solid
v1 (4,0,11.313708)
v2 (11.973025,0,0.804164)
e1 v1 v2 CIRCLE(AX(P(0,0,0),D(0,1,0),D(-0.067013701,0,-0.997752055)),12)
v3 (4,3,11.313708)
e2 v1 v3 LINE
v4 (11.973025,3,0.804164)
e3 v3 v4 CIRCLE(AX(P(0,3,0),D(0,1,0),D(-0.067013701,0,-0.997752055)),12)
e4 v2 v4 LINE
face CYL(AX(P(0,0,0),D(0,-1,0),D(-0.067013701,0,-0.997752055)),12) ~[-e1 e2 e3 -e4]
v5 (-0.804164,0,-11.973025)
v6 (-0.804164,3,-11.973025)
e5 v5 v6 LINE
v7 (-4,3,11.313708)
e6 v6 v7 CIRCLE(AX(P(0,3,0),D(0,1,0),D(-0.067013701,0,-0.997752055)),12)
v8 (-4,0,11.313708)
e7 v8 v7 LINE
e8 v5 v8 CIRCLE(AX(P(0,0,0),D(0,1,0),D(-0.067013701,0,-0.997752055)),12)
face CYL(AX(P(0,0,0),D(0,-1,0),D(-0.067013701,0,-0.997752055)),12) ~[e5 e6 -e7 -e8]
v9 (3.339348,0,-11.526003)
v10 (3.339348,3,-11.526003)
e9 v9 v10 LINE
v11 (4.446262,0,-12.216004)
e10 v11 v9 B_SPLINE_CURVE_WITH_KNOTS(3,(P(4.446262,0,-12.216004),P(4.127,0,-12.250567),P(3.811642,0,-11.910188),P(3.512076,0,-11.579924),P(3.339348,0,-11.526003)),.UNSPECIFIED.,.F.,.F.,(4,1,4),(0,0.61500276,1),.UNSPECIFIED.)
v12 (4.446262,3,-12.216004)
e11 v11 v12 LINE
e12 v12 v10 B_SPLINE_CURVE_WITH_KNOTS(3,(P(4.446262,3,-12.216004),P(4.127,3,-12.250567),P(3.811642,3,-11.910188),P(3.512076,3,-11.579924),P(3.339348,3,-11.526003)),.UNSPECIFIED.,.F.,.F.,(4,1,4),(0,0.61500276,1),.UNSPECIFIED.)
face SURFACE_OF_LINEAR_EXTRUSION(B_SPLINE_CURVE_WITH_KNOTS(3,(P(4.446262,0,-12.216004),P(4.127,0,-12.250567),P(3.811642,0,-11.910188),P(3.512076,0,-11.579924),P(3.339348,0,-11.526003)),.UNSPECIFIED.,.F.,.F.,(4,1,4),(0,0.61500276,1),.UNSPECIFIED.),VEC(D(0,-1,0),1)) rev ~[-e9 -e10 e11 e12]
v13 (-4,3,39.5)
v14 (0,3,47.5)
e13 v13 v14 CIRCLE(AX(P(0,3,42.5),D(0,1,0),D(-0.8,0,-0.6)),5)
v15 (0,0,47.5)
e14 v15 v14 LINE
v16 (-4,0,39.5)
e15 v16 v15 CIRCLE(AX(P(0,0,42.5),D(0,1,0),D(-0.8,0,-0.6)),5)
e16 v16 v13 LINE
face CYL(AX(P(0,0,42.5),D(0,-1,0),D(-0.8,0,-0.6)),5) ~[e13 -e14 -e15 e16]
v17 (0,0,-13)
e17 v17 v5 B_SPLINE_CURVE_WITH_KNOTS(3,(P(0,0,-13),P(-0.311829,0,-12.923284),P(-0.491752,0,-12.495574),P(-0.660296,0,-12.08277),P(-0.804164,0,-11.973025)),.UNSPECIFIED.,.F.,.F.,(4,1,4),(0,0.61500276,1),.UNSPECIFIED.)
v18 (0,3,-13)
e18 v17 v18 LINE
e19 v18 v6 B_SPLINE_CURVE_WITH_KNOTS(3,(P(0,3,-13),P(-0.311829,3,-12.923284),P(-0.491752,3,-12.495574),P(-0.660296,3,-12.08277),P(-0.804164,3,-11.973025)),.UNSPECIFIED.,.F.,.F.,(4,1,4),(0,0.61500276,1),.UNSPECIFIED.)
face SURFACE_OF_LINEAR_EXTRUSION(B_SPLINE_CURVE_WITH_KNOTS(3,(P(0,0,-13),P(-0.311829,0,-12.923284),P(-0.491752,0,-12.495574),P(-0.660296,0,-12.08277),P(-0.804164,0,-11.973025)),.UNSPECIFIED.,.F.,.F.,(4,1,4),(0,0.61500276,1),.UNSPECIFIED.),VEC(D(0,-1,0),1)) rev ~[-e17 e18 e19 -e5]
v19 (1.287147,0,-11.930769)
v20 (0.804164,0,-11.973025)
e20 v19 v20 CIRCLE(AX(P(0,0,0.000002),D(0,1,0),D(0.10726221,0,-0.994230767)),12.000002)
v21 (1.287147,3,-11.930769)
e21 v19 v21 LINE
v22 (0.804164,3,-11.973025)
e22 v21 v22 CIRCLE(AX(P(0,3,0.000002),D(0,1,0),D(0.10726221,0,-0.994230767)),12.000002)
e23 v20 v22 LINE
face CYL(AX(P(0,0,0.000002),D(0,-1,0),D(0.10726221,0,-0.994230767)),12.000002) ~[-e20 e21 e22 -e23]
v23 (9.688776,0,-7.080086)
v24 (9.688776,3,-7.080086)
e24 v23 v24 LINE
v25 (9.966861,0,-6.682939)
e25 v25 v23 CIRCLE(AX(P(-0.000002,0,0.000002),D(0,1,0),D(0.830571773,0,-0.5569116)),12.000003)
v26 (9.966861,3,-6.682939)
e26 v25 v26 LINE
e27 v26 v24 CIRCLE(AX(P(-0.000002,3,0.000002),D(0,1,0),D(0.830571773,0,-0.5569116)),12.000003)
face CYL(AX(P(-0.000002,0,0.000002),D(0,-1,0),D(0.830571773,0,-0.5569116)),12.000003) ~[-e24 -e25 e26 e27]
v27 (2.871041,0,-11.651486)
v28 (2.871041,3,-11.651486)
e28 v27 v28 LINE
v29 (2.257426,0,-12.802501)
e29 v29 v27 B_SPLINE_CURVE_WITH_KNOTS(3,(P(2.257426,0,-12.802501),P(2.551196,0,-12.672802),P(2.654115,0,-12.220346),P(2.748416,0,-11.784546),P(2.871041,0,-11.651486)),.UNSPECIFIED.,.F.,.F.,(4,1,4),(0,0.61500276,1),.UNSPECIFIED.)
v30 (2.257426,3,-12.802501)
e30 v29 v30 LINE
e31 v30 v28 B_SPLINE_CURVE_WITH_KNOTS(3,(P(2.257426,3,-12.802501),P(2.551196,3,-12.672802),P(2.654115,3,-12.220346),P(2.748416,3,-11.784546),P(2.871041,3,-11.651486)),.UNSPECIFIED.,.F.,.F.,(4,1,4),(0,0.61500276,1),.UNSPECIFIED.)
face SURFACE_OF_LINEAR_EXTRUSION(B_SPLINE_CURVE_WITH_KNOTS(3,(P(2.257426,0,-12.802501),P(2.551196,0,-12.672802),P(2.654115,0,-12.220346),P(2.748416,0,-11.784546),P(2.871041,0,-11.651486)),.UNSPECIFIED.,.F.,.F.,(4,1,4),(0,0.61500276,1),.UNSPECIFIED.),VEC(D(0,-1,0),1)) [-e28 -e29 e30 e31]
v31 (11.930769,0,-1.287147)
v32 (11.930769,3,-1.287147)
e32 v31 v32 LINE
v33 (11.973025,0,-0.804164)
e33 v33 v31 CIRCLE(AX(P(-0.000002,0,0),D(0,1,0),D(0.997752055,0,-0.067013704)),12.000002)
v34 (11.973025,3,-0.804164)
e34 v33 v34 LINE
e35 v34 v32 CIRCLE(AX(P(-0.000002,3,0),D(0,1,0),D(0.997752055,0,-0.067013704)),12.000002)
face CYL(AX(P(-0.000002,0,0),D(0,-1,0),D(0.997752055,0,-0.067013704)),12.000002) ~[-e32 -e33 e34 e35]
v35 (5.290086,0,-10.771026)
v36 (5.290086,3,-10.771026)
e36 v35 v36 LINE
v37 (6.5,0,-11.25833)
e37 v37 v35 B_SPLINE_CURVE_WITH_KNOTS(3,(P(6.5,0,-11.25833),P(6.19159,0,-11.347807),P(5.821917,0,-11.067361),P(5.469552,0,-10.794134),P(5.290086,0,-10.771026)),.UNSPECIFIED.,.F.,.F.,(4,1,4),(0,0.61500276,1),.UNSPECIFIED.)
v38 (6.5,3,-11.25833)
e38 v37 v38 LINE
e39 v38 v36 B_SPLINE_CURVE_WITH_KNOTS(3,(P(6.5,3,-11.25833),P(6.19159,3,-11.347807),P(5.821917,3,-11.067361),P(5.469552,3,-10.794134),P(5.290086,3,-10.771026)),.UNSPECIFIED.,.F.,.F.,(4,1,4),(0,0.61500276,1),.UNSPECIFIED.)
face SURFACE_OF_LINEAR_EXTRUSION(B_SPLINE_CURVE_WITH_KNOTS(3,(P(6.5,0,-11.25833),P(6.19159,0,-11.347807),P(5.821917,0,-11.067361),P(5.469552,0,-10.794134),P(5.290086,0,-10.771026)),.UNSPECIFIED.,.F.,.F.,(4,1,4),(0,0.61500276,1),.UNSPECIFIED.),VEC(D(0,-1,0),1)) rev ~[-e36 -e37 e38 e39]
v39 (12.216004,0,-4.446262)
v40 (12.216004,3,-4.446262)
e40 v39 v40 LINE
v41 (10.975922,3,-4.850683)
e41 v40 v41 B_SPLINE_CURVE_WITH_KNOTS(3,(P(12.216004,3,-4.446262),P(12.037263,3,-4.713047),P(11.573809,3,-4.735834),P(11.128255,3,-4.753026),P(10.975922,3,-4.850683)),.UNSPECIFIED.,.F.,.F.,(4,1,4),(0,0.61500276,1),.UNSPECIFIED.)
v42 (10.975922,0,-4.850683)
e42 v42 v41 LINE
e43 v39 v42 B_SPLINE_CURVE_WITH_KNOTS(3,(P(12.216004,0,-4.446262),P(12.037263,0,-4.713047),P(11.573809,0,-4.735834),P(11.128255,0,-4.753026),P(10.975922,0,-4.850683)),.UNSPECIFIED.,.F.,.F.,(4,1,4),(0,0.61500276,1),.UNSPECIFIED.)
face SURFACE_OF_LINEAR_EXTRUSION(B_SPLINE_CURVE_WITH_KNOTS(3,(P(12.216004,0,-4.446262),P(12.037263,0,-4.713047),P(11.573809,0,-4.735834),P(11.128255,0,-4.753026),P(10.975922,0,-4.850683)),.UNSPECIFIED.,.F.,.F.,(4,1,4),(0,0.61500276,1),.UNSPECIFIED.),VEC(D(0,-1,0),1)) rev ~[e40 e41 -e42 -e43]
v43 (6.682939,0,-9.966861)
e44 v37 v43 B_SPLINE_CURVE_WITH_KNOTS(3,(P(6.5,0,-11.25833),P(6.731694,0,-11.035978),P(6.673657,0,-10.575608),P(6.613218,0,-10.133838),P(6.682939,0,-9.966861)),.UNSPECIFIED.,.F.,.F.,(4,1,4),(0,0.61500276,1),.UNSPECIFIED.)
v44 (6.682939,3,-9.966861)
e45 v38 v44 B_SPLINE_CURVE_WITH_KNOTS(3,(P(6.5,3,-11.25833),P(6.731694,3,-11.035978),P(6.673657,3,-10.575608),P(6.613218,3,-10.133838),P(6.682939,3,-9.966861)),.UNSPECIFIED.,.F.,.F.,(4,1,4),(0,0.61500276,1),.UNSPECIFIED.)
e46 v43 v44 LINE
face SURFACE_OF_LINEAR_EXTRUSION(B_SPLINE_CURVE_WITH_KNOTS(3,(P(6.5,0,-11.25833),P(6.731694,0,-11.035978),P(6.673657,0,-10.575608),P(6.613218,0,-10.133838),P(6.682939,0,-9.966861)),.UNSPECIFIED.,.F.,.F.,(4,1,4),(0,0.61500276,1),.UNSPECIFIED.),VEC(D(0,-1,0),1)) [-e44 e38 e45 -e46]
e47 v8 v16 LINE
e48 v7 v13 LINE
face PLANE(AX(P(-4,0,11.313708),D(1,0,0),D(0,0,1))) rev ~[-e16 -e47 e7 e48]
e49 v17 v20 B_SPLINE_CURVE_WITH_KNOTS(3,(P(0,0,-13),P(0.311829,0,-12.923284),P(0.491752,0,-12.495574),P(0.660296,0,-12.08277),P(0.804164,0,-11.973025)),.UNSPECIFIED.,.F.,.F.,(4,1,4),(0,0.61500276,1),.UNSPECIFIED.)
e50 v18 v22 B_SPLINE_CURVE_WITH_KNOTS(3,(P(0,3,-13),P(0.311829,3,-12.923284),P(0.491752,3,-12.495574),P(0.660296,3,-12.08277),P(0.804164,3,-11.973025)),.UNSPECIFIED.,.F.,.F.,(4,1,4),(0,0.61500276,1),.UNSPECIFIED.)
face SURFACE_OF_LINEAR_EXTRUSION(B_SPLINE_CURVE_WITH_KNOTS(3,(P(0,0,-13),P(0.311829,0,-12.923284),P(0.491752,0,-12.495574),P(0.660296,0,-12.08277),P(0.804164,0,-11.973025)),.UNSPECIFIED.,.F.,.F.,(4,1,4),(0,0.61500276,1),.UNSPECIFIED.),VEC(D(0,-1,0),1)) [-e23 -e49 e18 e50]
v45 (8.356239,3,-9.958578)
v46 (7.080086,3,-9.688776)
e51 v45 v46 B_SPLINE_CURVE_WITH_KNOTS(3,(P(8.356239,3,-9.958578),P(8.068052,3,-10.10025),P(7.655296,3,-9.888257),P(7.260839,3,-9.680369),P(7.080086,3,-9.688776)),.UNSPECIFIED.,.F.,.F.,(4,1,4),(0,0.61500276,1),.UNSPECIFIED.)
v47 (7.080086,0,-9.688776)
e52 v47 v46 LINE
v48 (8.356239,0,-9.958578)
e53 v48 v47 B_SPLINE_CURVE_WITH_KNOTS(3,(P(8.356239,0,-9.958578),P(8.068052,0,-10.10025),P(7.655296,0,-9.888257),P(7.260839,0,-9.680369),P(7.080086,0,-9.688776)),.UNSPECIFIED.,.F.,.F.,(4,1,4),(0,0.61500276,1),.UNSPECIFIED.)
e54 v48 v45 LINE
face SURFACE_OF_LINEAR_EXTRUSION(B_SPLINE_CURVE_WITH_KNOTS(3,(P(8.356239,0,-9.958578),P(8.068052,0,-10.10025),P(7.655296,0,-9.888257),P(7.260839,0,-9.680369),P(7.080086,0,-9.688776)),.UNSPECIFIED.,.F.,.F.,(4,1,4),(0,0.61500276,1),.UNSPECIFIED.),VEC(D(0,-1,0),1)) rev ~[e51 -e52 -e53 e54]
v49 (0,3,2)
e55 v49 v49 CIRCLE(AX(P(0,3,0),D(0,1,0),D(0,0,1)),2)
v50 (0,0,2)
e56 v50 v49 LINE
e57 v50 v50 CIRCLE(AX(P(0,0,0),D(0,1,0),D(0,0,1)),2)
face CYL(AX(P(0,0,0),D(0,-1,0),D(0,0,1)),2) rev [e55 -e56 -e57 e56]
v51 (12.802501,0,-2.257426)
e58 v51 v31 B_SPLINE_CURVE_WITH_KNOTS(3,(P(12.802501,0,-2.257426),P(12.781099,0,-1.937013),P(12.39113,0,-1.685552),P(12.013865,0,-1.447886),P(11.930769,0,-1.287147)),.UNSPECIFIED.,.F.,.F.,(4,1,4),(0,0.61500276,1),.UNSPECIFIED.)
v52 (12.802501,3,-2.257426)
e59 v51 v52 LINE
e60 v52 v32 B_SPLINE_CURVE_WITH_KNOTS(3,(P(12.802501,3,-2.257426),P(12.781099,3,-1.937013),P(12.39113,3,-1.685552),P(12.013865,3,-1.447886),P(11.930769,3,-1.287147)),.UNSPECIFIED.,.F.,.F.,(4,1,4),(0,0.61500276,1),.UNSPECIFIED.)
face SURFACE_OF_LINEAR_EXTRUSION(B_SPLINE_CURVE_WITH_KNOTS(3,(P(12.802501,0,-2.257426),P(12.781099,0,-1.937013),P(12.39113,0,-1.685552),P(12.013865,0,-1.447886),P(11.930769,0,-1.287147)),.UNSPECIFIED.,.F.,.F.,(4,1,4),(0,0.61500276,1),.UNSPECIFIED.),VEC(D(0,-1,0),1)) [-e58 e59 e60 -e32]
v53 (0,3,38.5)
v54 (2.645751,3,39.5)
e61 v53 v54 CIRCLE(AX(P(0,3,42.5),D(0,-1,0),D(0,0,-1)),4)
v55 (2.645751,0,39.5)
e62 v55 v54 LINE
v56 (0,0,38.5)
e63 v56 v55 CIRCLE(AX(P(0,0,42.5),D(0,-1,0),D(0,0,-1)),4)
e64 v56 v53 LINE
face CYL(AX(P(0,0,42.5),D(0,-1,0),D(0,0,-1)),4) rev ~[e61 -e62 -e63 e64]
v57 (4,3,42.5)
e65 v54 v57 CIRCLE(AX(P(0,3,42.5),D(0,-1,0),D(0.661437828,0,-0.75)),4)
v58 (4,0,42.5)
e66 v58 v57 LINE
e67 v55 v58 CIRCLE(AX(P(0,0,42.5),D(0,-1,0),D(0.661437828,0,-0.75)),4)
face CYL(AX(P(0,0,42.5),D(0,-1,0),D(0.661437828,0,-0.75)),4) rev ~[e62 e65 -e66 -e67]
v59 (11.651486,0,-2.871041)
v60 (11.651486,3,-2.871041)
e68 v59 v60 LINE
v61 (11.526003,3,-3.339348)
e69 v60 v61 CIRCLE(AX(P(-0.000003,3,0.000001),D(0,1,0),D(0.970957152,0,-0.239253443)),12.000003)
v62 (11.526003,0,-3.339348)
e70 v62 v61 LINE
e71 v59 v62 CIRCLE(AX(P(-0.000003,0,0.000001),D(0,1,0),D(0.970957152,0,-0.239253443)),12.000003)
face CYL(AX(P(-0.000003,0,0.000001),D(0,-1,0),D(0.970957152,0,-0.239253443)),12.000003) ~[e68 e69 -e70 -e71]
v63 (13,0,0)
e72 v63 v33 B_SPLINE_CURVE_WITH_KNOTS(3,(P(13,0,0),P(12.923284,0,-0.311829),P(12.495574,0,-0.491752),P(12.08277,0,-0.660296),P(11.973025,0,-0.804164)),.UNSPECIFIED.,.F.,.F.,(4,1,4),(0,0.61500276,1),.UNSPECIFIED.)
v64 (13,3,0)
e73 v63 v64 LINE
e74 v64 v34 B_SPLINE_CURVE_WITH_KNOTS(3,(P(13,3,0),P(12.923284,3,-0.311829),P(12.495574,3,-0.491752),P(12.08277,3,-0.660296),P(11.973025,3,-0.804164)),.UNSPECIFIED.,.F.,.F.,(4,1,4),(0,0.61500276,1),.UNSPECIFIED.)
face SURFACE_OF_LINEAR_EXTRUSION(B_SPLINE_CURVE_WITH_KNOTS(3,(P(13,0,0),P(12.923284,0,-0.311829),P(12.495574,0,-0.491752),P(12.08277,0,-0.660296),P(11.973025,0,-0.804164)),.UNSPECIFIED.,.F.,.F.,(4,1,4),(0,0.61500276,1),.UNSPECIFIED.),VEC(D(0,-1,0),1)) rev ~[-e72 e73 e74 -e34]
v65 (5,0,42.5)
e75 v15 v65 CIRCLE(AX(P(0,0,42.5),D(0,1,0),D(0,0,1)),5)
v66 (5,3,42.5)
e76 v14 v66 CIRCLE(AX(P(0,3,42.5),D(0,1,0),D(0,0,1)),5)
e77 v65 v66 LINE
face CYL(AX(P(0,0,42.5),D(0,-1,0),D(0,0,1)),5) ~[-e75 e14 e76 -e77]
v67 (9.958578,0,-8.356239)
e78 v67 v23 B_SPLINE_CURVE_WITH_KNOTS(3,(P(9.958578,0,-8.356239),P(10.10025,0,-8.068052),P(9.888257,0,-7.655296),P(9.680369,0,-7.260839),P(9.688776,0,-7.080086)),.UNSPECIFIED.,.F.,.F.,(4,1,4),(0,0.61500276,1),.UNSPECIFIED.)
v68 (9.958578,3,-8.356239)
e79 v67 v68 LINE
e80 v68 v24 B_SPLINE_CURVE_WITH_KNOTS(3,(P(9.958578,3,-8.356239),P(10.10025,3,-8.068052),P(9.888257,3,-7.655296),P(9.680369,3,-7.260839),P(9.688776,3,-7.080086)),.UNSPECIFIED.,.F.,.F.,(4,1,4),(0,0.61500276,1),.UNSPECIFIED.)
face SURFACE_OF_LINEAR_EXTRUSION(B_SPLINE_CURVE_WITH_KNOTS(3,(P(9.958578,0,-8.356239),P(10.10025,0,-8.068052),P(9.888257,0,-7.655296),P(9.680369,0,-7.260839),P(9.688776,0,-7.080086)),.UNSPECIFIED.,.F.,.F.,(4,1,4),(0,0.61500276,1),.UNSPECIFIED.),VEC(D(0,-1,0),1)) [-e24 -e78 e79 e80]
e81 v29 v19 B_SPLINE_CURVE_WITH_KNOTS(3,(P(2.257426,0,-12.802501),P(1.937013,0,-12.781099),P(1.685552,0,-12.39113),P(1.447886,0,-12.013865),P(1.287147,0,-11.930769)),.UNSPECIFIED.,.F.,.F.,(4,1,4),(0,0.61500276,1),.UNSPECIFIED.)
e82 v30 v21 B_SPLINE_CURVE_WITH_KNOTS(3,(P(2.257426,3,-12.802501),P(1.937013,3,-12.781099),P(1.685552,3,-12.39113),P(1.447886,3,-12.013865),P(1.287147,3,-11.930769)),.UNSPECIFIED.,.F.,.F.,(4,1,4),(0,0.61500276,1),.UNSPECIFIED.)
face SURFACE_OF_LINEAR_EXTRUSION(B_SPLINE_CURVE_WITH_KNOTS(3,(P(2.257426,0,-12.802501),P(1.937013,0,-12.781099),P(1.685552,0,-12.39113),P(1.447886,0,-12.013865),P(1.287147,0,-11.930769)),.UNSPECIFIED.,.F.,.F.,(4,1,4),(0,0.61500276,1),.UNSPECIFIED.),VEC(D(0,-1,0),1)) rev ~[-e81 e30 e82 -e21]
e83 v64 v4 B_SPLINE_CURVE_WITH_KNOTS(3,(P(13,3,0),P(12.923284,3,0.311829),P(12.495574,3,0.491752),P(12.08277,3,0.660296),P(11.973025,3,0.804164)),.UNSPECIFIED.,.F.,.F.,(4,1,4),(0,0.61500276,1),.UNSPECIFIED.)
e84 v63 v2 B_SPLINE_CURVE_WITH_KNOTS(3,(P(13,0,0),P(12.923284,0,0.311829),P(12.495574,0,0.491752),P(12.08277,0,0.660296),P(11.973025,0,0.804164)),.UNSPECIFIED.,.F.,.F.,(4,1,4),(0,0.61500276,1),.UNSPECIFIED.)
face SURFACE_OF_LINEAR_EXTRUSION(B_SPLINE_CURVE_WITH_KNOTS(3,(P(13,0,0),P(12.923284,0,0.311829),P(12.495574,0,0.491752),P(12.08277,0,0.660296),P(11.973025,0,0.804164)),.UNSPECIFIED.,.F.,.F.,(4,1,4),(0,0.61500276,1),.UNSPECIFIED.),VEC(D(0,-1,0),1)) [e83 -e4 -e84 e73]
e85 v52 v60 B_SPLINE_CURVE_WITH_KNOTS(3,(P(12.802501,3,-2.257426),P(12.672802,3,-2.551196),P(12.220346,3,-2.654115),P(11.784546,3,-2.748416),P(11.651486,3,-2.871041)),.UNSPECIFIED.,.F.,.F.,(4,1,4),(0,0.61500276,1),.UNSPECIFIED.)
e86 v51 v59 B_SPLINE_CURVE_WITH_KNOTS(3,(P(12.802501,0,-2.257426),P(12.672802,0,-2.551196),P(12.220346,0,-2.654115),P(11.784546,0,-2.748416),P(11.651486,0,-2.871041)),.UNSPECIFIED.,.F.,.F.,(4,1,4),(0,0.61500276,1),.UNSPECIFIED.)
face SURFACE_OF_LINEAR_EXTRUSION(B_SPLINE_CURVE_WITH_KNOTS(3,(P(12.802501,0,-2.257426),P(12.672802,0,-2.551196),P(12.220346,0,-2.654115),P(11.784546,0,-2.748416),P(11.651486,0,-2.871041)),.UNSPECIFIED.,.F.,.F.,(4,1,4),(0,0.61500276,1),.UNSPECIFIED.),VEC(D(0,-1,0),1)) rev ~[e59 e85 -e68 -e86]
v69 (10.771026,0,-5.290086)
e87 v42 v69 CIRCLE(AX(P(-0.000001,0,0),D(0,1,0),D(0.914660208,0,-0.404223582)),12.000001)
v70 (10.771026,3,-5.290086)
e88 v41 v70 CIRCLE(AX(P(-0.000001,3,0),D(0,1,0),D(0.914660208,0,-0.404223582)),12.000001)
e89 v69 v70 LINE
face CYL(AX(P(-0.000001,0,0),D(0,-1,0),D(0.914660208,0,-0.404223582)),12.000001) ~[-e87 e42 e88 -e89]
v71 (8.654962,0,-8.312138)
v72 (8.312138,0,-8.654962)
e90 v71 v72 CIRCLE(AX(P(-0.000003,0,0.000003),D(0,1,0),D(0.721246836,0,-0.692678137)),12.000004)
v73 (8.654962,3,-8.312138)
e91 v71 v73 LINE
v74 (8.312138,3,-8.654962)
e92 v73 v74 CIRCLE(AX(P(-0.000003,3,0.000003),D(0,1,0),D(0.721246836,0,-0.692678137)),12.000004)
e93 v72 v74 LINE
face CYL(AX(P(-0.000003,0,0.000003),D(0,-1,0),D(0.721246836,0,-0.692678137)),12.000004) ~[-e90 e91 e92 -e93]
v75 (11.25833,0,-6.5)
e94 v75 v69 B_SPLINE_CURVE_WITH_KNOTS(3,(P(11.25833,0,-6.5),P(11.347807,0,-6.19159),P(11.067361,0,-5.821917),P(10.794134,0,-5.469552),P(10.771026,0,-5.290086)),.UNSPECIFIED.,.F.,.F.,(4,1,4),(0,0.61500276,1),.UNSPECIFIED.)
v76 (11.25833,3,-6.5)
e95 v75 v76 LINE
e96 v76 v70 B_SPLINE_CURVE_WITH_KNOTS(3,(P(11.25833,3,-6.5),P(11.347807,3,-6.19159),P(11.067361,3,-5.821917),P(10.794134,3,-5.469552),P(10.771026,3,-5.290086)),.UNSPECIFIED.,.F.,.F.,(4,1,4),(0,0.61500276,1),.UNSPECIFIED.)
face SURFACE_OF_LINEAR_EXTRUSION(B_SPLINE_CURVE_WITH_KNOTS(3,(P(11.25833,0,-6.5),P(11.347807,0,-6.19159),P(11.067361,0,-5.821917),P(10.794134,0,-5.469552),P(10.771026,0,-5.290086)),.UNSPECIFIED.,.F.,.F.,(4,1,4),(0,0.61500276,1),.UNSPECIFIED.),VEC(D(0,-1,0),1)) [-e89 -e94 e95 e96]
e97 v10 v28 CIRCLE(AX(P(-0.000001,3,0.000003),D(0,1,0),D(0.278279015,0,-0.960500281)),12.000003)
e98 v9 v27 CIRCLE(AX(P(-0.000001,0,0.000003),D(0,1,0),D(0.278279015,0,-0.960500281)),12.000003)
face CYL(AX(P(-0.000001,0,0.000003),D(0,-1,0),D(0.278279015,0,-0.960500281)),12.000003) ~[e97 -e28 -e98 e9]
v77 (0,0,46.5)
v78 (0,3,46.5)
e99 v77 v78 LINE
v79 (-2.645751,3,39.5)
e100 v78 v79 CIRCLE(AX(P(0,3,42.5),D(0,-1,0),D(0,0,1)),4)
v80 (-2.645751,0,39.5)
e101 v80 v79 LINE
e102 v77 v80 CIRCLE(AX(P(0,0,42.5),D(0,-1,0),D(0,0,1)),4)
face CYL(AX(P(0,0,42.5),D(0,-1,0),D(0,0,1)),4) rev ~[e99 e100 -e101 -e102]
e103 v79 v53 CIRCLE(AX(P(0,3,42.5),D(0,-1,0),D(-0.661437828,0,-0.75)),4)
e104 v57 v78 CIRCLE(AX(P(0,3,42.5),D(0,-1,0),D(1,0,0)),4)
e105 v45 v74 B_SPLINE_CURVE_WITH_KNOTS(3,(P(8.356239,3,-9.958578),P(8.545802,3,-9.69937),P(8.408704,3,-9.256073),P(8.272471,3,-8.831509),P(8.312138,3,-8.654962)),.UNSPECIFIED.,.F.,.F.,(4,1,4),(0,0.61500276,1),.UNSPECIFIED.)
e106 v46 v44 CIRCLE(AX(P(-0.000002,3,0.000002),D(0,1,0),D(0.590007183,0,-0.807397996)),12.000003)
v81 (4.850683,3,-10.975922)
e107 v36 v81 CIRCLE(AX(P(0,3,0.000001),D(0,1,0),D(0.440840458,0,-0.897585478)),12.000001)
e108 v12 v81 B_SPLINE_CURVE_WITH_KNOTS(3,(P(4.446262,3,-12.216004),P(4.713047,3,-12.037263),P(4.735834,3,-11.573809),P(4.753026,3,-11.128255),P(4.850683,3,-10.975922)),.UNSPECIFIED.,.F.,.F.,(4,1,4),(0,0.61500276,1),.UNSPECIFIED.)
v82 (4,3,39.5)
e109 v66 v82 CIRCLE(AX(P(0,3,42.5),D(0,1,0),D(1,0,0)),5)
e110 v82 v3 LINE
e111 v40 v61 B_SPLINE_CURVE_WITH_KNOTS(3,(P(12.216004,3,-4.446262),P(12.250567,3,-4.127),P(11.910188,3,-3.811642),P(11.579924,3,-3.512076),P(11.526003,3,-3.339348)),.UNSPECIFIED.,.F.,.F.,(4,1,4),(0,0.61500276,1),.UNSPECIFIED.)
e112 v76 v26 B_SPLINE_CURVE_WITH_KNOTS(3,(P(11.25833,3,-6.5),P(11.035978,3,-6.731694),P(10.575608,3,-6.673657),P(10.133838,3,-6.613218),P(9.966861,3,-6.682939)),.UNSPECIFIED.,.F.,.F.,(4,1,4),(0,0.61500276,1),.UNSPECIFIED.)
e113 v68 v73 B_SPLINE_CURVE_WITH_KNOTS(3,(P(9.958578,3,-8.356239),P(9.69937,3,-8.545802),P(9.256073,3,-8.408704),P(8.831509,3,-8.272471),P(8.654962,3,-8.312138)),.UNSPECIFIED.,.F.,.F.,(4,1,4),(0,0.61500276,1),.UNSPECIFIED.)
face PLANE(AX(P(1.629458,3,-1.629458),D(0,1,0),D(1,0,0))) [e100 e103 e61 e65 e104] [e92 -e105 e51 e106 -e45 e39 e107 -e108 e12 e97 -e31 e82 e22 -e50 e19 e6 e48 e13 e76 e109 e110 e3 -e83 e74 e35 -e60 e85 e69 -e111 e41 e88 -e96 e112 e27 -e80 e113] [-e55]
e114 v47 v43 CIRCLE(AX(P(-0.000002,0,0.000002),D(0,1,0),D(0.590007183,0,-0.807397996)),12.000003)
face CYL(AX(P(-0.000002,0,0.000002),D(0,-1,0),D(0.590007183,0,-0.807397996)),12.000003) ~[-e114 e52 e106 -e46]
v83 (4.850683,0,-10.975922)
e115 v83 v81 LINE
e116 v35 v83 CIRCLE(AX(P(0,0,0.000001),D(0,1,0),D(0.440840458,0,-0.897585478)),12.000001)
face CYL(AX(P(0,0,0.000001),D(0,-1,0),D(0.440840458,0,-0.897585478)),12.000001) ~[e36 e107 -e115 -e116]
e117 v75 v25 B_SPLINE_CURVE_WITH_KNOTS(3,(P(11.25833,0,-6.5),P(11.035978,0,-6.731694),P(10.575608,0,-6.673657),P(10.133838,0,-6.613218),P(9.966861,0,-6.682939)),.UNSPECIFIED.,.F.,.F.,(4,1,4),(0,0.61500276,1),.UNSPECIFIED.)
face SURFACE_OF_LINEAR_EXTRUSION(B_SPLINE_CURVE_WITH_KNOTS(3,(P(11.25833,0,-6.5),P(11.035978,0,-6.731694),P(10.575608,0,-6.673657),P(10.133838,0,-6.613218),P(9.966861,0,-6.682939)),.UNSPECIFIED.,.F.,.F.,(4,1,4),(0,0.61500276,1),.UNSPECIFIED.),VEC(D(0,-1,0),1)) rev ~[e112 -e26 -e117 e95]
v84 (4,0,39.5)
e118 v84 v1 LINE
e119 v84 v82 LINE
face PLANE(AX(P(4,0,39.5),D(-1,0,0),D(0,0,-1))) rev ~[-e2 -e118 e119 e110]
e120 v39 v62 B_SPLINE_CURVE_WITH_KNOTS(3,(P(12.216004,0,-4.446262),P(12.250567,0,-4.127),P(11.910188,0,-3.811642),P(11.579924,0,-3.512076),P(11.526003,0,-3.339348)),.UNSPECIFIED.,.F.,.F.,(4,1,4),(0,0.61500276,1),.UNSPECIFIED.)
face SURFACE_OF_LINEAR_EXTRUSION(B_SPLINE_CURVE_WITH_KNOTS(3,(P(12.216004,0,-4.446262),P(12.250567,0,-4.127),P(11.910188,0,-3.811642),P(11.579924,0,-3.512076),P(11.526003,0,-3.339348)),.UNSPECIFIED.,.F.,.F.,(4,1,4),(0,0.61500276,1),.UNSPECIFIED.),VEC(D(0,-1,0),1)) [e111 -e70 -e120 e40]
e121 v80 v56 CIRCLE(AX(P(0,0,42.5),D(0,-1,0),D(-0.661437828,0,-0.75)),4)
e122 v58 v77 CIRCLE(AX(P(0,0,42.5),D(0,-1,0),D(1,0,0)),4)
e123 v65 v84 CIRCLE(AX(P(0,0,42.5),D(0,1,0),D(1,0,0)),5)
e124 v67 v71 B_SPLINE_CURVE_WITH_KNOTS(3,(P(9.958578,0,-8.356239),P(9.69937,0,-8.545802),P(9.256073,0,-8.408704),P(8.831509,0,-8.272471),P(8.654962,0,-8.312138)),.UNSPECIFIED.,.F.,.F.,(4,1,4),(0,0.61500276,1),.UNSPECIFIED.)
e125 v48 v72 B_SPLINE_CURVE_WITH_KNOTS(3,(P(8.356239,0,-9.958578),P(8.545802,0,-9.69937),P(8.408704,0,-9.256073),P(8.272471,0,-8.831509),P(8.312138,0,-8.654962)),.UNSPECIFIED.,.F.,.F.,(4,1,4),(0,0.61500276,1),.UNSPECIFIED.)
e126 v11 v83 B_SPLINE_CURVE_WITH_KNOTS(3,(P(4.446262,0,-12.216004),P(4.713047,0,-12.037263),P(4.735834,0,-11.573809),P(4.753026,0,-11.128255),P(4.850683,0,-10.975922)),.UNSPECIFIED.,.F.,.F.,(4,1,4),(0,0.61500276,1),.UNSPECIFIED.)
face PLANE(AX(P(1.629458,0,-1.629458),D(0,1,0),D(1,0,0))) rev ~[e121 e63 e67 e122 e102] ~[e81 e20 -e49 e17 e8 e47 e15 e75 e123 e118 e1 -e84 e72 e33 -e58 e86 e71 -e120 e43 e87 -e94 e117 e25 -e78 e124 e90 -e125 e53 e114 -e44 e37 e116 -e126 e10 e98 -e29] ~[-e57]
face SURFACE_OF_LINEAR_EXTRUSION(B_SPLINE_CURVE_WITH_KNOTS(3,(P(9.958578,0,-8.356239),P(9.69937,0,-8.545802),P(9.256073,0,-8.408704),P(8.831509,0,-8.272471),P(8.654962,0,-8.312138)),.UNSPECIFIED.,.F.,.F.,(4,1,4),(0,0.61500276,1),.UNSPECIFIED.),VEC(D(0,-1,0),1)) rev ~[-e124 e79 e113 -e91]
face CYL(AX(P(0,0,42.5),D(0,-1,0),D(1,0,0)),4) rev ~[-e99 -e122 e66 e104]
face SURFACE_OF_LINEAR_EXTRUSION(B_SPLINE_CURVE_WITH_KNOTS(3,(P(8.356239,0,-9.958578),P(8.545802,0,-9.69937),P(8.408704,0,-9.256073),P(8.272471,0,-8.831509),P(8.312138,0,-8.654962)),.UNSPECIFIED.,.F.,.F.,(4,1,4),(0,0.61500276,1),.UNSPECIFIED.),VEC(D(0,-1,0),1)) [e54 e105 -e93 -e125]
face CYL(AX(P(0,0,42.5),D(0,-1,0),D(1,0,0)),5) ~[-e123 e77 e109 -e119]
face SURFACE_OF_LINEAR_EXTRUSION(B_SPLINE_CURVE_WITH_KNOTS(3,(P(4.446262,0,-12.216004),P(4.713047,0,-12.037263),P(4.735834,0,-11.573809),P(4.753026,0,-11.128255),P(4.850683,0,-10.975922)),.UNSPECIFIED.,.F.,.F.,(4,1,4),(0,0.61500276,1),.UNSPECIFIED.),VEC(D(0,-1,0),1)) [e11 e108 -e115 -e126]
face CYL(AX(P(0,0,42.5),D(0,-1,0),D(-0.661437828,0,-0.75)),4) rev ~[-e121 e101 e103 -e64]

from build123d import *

# Parameters (mm, degrees)
SKETCH_1_R      = 2
EXTRUDE_1_DEPTH = 3
EXTRUDE_START   = -3
EXTRUDE_2_DEPTH = 3


with BuildPart() as part:
    # 草图1 → 凸台-拉伸1 (new body)
    with BuildSketch(Plane(origin=(0, 0, 0), x_dir=(1, 0, 0), z_dir=(0, 1, 0))):
        with BuildLine():
            ThreePointArc((-0.804164412, 11.973024664), (-8.485281374, -8.485281374), (11.973024664, -0.804164412))
            add(Edge.make_bspline(
                [(13, 0), (12.923284361, -0.311828909), (12.495573917, -0.491752354), (12.082770065, -0.660295948), (11.973024664, -0.804164412)],
                knots=[0, 0, 0, 0, 0.61500276, 1, 1, 1, 1], degree=3))
            add(Edge.make_bspline(
                [(13, 0), (12.923284361, 0.311828909), (12.495573917, 0.491752354), (12.082770065, 0.660295948), (11.973024664, 0.804164412)],
                knots=[0, 0, 0, 0, 0.61500276, 1, 1, 1, 1], degree=3))
            ThreePointArc((11.973024664, 0.804164412), (11.954336377, 1.045868913), (11.930769201, 1.287146566))
            add(Edge.make_bspline(
                [(12.802500789, 2.25742631), (12.781099155, 1.937013252), (12.391129972, 1.685552109), (12.013864826, 1.447886434), (11.930769201, 1.287146566)],
                knots=[0, 0, 0, 0, 0.61500276, 1, 1, 1, 1], degree=3))
            add(Edge.make_bspline(
                [(12.802500789, 2.25742631), (12.672802111, 2.551196306), (12.220346171, 2.65411517), (11.78454645, 2.748415572), (11.651485831, 2.871041262)],
                knots=[0, 0, 0, 0, 0.61500276, 1, 1, 1, 1], degree=3))
            ThreePointArc((11.651485831, 2.871041262), (11.591109915, 3.105828541), (11.526003353, 3.339348247))
            add(Edge.make_bspline(
                [(12.21600407, 4.446261863), (12.250566718, 4.127000245), (11.910187813, 3.811641924), (11.579924383, 3.51207552), (11.526003353, 3.339348247)],
                knots=[0, 0, 0, 0, 0.61500276, 1, 1, 1, 1], degree=3))
            add(Edge.make_bspline(
                [(12.21600407, 4.446261863), (12.037263182, 4.713046894), (11.573809391, 4.73583404), (11.128255354, 4.753025979), (10.975922497, 4.850682976)],
                knots=[0, 0, 0, 0, 0.61500276, 1, 1, 1, 1], degree=3))
            ThreePointArc((10.975922497, 4.850682976), (10.875693444, 5.071419141), (10.771025725, 5.290085522))
            add(Edge.make_bspline(
                [(11.258330249, 6.5), (11.347807011, 6.191590424), (11.067360624, 5.821916927), (10.794133798, 5.469551968), (10.771025725, 5.290085522)],
                knots=[0, 0, 0, 0, 0.61500276, 1, 1, 1, 1], degree=3))
            add(Edge.make_bspline(
                [(11.258330249, 6.5), (11.035978102, 6.731693937), (10.57560827, 6.673656989), (10.13383785, 6.613218097), (9.966861313, 6.682939142)],
                knots=[0, 0, 0, 0, 0.61500276, 1, 1, 1, 1], degree=3))
            ThreePointArc((9.966861313, 6.682939142), (9.829824531, 6.882917236), (9.688775931, 7.080086225))
            add(Edge.make_bspline(
                [(9.958577761, 8.356238926), (10.10024993, 8.068052261), (9.888257283, 7.655295931), (9.68036892, 7.260838847), (9.688775931, 7.080086225)],
                knots=[0, 0, 0, 0, 0.61500276, 1, 1, 1, 1], degree=3))
            add(Edge.make_bspline(
                [(9.958577761, 8.356238926), (9.699370412, 8.545801866), (9.256072642, 8.408704248), (8.831508812, 8.27247093), (8.654962091, 8.312137584)],
                knots=[0, 0, 0, 0, 0.61500276, 1, 1, 1, 1], degree=3))
            ThreePointArc((8.654962091, 8.312137584), (8.485281374, 8.485281374), (8.312137584, 8.654962091))
            add(Edge.make_bspline(
                [(8.356238926, 9.958577761), (8.545801866, 9.699370412), (8.408704248, 9.256072642), (8.27247093, 8.831508812), (8.312137584, 8.654962091)],
                knots=[0, 0, 0, 0, 0.61500276, 1, 1, 1, 1], degree=3))
            add(Edge.make_bspline(
                [(8.356238926, 9.958577761), (8.068052261, 10.10024993), (7.655295931, 9.888257283), (7.260838847, 9.68036892), (7.080086225, 9.688775931)],
                knots=[0, 0, 0, 0, 0.61500276, 1, 1, 1, 1], degree=3))
            ThreePointArc((7.080086225, 9.688775931), (6.882917236, 9.829824531), (6.682939142, 9.966861313))
            add(Edge.make_bspline(
                [(6.5, 11.258330249), (6.731693937, 11.035978102), (6.673656989, 10.57560827), (6.613218097, 10.13383785), (6.682939142, 9.966861313)],
                knots=[0, 0, 0, 0, 0.61500276, 1, 1, 1, 1], degree=3))
            add(Edge.make_bspline(
                [(6.5, 11.258330249), (6.191590424, 11.347807011), (5.821916927, 11.067360624), (5.469551968, 10.794133798), (5.290085522, 10.771025725)],
                knots=[0, 0, 0, 0, 0.61500276, 1, 1, 1, 1], degree=3))
            ThreePointArc((5.290085522, 10.771025725), (5.071419141, 10.875693444), (4.850682976, 10.975922497))
            add(Edge.make_bspline(
                [(4.446261863, 12.21600407), (4.713046894, 12.037263182), (4.73583404, 11.573809391), (4.753025979, 11.128255354), (4.850682976, 10.975922497)],
                knots=[0, 0, 0, 0, 0.61500276, 1, 1, 1, 1], degree=3))
            add(Edge.make_bspline(
                [(4.446261863, 12.21600407), (4.127000245, 12.250566718), (3.811641924, 11.910187813), (3.51207552, 11.579924383), (3.339348247, 11.526003353)],
                knots=[0, 0, 0, 0, 0.61500276, 1, 1, 1, 1], degree=3))
            ThreePointArc((3.339348247, 11.526003353), (3.105828541, 11.591109915), (2.871041262, 11.651485831))
            add(Edge.make_bspline(
                [(2.25742631, 12.802500789), (2.551196306, 12.672802111), (2.65411517, 12.220346171), (2.748415572, 11.78454645), (2.871041262, 11.651485831)],
                knots=[0, 0, 0, 0, 0.61500276, 1, 1, 1, 1], degree=3))
            add(Edge.make_bspline(
                [(2.25742631, 12.802500789), (1.937013252, 12.781099155), (1.685552109, 12.391129972), (1.447886434, 12.013864826), (1.287146566, 11.930769201)],
                knots=[0, 0, 0, 0, 0.61500276, 1, 1, 1, 1], degree=3))
            ThreePointArc((1.287146566, 11.930769201), (1.045868913, 11.954336377), (0.804164412, 11.973024664))
            add(Edge.make_bspline(
                [(0, 13), (0.311828909, 12.923284361), (0.491752354, 12.495573917), (0.660295948, 12.082770065), (0.804164412, 11.973024664)],
                knots=[0, 0, 0, 0, 0.61500276, 1, 1, 1, 1], degree=3))
            add(Edge.make_bspline(
                [(0, 13), (-0.311828909, 12.923284361), (-0.491752354, 12.495573917), (-0.660295948, 12.082770065), (-0.804164412, 11.973024664)],
                knots=[0, 0, 0, 0, 0.61500276, 1, 1, 1, 1], degree=3))
        make_face()
        with Locations(Location((0, 0, 0), (0, 0, 270))):
            Circle(SKETCH_1_R, mode=Mode.SUBTRACT)
    extrude(amount=EXTRUDE_1_DEPTH)

    # 草图2 → 凸台-拉伸2 (add)
    with BuildSketch(Plane(origin=(0, 3, 0), x_dir=(1, 0, 0), z_dir=(0, 1, 0)).offset(EXTRUDE_START)):
        with BuildLine():
            ThreePointArc((4, -11.313708499), (2.029223745, -11.827182716), (0, -12))
            Line((0, -12), (0, -37.5))
            ThreePointArc((0, -37.5), (2.236067977, -38.027864045), (4, -39.5))
            Line((4, -39.5), (4, -11.313708499))
        make_face()
        with BuildLine():
            Line((0, -37.5), (0, -12))
            ThreePointArc((0, -12), (-2.029223745, -11.827182716), (-4, -11.313708499))
            Line((-4, -11.313708499), (-4, -39.5))
            ThreePointArc((-4, -39.5), (-2.236067977, -38.027864045), (0, -37.5))
        make_face()
        with BuildLine():
            ThreePointArc((4, -39.5), (2.236067977, -38.027864045), (0, -37.5))
            Line((0, -37.5), (0, -38.5))
            ThreePointArc((0, -38.5), (1.414213562, -38.758342613), (2.645751311, -39.5))
            Line((2.645751311, -39.5), (4, -39.5))
        make_face()
        with BuildLine():
            Line((0, -38.5), (0, -37.5))
            ThreePointArc((0, -37.5), (-2.236067977, -38.027864045), (-4, -39.5))
            Line((-4, -39.5), (-2.645751311, -39.5))
            ThreePointArc((-2.645751311, -39.5), (-1.414213562, -38.758342613), (0, -38.5))
        make_face()
        with BuildLine():
            ThreePointArc((5, -42.5), (4.74341649, -40.91886117), (4, -39.5))
            Line((4, -39.5), (2.645751311, -39.5))
            ThreePointArc((2.645751311, -39.5), (3.645751311, -40.854248689), (4, -42.5))
            ThreePointArc((4, -42.5), (2.828427125, -45.328427125), (0, -46.5))
            Line((0, -46.5), (0, -47.5))
            ThreePointArc((0, -47.5), (3.535533906, -46.035533906), (5, -42.5))
        make_face()
        with BuildLine():
            Line((-2.645751311, -39.5), (-4, -39.5))
            ThreePointArc((-4, -39.5), (-4.472135955, -44.736067977), (0, -47.5))
            Line((0, -47.5), (0, -46.5))
            ThreePointArc((0, -46.5), (-3.741657387, -43.914213562), (-2.645751311, -39.5))
        make_face()
    extrude(amount=EXTRUDE_2_DEPTH)


solid = part.part
